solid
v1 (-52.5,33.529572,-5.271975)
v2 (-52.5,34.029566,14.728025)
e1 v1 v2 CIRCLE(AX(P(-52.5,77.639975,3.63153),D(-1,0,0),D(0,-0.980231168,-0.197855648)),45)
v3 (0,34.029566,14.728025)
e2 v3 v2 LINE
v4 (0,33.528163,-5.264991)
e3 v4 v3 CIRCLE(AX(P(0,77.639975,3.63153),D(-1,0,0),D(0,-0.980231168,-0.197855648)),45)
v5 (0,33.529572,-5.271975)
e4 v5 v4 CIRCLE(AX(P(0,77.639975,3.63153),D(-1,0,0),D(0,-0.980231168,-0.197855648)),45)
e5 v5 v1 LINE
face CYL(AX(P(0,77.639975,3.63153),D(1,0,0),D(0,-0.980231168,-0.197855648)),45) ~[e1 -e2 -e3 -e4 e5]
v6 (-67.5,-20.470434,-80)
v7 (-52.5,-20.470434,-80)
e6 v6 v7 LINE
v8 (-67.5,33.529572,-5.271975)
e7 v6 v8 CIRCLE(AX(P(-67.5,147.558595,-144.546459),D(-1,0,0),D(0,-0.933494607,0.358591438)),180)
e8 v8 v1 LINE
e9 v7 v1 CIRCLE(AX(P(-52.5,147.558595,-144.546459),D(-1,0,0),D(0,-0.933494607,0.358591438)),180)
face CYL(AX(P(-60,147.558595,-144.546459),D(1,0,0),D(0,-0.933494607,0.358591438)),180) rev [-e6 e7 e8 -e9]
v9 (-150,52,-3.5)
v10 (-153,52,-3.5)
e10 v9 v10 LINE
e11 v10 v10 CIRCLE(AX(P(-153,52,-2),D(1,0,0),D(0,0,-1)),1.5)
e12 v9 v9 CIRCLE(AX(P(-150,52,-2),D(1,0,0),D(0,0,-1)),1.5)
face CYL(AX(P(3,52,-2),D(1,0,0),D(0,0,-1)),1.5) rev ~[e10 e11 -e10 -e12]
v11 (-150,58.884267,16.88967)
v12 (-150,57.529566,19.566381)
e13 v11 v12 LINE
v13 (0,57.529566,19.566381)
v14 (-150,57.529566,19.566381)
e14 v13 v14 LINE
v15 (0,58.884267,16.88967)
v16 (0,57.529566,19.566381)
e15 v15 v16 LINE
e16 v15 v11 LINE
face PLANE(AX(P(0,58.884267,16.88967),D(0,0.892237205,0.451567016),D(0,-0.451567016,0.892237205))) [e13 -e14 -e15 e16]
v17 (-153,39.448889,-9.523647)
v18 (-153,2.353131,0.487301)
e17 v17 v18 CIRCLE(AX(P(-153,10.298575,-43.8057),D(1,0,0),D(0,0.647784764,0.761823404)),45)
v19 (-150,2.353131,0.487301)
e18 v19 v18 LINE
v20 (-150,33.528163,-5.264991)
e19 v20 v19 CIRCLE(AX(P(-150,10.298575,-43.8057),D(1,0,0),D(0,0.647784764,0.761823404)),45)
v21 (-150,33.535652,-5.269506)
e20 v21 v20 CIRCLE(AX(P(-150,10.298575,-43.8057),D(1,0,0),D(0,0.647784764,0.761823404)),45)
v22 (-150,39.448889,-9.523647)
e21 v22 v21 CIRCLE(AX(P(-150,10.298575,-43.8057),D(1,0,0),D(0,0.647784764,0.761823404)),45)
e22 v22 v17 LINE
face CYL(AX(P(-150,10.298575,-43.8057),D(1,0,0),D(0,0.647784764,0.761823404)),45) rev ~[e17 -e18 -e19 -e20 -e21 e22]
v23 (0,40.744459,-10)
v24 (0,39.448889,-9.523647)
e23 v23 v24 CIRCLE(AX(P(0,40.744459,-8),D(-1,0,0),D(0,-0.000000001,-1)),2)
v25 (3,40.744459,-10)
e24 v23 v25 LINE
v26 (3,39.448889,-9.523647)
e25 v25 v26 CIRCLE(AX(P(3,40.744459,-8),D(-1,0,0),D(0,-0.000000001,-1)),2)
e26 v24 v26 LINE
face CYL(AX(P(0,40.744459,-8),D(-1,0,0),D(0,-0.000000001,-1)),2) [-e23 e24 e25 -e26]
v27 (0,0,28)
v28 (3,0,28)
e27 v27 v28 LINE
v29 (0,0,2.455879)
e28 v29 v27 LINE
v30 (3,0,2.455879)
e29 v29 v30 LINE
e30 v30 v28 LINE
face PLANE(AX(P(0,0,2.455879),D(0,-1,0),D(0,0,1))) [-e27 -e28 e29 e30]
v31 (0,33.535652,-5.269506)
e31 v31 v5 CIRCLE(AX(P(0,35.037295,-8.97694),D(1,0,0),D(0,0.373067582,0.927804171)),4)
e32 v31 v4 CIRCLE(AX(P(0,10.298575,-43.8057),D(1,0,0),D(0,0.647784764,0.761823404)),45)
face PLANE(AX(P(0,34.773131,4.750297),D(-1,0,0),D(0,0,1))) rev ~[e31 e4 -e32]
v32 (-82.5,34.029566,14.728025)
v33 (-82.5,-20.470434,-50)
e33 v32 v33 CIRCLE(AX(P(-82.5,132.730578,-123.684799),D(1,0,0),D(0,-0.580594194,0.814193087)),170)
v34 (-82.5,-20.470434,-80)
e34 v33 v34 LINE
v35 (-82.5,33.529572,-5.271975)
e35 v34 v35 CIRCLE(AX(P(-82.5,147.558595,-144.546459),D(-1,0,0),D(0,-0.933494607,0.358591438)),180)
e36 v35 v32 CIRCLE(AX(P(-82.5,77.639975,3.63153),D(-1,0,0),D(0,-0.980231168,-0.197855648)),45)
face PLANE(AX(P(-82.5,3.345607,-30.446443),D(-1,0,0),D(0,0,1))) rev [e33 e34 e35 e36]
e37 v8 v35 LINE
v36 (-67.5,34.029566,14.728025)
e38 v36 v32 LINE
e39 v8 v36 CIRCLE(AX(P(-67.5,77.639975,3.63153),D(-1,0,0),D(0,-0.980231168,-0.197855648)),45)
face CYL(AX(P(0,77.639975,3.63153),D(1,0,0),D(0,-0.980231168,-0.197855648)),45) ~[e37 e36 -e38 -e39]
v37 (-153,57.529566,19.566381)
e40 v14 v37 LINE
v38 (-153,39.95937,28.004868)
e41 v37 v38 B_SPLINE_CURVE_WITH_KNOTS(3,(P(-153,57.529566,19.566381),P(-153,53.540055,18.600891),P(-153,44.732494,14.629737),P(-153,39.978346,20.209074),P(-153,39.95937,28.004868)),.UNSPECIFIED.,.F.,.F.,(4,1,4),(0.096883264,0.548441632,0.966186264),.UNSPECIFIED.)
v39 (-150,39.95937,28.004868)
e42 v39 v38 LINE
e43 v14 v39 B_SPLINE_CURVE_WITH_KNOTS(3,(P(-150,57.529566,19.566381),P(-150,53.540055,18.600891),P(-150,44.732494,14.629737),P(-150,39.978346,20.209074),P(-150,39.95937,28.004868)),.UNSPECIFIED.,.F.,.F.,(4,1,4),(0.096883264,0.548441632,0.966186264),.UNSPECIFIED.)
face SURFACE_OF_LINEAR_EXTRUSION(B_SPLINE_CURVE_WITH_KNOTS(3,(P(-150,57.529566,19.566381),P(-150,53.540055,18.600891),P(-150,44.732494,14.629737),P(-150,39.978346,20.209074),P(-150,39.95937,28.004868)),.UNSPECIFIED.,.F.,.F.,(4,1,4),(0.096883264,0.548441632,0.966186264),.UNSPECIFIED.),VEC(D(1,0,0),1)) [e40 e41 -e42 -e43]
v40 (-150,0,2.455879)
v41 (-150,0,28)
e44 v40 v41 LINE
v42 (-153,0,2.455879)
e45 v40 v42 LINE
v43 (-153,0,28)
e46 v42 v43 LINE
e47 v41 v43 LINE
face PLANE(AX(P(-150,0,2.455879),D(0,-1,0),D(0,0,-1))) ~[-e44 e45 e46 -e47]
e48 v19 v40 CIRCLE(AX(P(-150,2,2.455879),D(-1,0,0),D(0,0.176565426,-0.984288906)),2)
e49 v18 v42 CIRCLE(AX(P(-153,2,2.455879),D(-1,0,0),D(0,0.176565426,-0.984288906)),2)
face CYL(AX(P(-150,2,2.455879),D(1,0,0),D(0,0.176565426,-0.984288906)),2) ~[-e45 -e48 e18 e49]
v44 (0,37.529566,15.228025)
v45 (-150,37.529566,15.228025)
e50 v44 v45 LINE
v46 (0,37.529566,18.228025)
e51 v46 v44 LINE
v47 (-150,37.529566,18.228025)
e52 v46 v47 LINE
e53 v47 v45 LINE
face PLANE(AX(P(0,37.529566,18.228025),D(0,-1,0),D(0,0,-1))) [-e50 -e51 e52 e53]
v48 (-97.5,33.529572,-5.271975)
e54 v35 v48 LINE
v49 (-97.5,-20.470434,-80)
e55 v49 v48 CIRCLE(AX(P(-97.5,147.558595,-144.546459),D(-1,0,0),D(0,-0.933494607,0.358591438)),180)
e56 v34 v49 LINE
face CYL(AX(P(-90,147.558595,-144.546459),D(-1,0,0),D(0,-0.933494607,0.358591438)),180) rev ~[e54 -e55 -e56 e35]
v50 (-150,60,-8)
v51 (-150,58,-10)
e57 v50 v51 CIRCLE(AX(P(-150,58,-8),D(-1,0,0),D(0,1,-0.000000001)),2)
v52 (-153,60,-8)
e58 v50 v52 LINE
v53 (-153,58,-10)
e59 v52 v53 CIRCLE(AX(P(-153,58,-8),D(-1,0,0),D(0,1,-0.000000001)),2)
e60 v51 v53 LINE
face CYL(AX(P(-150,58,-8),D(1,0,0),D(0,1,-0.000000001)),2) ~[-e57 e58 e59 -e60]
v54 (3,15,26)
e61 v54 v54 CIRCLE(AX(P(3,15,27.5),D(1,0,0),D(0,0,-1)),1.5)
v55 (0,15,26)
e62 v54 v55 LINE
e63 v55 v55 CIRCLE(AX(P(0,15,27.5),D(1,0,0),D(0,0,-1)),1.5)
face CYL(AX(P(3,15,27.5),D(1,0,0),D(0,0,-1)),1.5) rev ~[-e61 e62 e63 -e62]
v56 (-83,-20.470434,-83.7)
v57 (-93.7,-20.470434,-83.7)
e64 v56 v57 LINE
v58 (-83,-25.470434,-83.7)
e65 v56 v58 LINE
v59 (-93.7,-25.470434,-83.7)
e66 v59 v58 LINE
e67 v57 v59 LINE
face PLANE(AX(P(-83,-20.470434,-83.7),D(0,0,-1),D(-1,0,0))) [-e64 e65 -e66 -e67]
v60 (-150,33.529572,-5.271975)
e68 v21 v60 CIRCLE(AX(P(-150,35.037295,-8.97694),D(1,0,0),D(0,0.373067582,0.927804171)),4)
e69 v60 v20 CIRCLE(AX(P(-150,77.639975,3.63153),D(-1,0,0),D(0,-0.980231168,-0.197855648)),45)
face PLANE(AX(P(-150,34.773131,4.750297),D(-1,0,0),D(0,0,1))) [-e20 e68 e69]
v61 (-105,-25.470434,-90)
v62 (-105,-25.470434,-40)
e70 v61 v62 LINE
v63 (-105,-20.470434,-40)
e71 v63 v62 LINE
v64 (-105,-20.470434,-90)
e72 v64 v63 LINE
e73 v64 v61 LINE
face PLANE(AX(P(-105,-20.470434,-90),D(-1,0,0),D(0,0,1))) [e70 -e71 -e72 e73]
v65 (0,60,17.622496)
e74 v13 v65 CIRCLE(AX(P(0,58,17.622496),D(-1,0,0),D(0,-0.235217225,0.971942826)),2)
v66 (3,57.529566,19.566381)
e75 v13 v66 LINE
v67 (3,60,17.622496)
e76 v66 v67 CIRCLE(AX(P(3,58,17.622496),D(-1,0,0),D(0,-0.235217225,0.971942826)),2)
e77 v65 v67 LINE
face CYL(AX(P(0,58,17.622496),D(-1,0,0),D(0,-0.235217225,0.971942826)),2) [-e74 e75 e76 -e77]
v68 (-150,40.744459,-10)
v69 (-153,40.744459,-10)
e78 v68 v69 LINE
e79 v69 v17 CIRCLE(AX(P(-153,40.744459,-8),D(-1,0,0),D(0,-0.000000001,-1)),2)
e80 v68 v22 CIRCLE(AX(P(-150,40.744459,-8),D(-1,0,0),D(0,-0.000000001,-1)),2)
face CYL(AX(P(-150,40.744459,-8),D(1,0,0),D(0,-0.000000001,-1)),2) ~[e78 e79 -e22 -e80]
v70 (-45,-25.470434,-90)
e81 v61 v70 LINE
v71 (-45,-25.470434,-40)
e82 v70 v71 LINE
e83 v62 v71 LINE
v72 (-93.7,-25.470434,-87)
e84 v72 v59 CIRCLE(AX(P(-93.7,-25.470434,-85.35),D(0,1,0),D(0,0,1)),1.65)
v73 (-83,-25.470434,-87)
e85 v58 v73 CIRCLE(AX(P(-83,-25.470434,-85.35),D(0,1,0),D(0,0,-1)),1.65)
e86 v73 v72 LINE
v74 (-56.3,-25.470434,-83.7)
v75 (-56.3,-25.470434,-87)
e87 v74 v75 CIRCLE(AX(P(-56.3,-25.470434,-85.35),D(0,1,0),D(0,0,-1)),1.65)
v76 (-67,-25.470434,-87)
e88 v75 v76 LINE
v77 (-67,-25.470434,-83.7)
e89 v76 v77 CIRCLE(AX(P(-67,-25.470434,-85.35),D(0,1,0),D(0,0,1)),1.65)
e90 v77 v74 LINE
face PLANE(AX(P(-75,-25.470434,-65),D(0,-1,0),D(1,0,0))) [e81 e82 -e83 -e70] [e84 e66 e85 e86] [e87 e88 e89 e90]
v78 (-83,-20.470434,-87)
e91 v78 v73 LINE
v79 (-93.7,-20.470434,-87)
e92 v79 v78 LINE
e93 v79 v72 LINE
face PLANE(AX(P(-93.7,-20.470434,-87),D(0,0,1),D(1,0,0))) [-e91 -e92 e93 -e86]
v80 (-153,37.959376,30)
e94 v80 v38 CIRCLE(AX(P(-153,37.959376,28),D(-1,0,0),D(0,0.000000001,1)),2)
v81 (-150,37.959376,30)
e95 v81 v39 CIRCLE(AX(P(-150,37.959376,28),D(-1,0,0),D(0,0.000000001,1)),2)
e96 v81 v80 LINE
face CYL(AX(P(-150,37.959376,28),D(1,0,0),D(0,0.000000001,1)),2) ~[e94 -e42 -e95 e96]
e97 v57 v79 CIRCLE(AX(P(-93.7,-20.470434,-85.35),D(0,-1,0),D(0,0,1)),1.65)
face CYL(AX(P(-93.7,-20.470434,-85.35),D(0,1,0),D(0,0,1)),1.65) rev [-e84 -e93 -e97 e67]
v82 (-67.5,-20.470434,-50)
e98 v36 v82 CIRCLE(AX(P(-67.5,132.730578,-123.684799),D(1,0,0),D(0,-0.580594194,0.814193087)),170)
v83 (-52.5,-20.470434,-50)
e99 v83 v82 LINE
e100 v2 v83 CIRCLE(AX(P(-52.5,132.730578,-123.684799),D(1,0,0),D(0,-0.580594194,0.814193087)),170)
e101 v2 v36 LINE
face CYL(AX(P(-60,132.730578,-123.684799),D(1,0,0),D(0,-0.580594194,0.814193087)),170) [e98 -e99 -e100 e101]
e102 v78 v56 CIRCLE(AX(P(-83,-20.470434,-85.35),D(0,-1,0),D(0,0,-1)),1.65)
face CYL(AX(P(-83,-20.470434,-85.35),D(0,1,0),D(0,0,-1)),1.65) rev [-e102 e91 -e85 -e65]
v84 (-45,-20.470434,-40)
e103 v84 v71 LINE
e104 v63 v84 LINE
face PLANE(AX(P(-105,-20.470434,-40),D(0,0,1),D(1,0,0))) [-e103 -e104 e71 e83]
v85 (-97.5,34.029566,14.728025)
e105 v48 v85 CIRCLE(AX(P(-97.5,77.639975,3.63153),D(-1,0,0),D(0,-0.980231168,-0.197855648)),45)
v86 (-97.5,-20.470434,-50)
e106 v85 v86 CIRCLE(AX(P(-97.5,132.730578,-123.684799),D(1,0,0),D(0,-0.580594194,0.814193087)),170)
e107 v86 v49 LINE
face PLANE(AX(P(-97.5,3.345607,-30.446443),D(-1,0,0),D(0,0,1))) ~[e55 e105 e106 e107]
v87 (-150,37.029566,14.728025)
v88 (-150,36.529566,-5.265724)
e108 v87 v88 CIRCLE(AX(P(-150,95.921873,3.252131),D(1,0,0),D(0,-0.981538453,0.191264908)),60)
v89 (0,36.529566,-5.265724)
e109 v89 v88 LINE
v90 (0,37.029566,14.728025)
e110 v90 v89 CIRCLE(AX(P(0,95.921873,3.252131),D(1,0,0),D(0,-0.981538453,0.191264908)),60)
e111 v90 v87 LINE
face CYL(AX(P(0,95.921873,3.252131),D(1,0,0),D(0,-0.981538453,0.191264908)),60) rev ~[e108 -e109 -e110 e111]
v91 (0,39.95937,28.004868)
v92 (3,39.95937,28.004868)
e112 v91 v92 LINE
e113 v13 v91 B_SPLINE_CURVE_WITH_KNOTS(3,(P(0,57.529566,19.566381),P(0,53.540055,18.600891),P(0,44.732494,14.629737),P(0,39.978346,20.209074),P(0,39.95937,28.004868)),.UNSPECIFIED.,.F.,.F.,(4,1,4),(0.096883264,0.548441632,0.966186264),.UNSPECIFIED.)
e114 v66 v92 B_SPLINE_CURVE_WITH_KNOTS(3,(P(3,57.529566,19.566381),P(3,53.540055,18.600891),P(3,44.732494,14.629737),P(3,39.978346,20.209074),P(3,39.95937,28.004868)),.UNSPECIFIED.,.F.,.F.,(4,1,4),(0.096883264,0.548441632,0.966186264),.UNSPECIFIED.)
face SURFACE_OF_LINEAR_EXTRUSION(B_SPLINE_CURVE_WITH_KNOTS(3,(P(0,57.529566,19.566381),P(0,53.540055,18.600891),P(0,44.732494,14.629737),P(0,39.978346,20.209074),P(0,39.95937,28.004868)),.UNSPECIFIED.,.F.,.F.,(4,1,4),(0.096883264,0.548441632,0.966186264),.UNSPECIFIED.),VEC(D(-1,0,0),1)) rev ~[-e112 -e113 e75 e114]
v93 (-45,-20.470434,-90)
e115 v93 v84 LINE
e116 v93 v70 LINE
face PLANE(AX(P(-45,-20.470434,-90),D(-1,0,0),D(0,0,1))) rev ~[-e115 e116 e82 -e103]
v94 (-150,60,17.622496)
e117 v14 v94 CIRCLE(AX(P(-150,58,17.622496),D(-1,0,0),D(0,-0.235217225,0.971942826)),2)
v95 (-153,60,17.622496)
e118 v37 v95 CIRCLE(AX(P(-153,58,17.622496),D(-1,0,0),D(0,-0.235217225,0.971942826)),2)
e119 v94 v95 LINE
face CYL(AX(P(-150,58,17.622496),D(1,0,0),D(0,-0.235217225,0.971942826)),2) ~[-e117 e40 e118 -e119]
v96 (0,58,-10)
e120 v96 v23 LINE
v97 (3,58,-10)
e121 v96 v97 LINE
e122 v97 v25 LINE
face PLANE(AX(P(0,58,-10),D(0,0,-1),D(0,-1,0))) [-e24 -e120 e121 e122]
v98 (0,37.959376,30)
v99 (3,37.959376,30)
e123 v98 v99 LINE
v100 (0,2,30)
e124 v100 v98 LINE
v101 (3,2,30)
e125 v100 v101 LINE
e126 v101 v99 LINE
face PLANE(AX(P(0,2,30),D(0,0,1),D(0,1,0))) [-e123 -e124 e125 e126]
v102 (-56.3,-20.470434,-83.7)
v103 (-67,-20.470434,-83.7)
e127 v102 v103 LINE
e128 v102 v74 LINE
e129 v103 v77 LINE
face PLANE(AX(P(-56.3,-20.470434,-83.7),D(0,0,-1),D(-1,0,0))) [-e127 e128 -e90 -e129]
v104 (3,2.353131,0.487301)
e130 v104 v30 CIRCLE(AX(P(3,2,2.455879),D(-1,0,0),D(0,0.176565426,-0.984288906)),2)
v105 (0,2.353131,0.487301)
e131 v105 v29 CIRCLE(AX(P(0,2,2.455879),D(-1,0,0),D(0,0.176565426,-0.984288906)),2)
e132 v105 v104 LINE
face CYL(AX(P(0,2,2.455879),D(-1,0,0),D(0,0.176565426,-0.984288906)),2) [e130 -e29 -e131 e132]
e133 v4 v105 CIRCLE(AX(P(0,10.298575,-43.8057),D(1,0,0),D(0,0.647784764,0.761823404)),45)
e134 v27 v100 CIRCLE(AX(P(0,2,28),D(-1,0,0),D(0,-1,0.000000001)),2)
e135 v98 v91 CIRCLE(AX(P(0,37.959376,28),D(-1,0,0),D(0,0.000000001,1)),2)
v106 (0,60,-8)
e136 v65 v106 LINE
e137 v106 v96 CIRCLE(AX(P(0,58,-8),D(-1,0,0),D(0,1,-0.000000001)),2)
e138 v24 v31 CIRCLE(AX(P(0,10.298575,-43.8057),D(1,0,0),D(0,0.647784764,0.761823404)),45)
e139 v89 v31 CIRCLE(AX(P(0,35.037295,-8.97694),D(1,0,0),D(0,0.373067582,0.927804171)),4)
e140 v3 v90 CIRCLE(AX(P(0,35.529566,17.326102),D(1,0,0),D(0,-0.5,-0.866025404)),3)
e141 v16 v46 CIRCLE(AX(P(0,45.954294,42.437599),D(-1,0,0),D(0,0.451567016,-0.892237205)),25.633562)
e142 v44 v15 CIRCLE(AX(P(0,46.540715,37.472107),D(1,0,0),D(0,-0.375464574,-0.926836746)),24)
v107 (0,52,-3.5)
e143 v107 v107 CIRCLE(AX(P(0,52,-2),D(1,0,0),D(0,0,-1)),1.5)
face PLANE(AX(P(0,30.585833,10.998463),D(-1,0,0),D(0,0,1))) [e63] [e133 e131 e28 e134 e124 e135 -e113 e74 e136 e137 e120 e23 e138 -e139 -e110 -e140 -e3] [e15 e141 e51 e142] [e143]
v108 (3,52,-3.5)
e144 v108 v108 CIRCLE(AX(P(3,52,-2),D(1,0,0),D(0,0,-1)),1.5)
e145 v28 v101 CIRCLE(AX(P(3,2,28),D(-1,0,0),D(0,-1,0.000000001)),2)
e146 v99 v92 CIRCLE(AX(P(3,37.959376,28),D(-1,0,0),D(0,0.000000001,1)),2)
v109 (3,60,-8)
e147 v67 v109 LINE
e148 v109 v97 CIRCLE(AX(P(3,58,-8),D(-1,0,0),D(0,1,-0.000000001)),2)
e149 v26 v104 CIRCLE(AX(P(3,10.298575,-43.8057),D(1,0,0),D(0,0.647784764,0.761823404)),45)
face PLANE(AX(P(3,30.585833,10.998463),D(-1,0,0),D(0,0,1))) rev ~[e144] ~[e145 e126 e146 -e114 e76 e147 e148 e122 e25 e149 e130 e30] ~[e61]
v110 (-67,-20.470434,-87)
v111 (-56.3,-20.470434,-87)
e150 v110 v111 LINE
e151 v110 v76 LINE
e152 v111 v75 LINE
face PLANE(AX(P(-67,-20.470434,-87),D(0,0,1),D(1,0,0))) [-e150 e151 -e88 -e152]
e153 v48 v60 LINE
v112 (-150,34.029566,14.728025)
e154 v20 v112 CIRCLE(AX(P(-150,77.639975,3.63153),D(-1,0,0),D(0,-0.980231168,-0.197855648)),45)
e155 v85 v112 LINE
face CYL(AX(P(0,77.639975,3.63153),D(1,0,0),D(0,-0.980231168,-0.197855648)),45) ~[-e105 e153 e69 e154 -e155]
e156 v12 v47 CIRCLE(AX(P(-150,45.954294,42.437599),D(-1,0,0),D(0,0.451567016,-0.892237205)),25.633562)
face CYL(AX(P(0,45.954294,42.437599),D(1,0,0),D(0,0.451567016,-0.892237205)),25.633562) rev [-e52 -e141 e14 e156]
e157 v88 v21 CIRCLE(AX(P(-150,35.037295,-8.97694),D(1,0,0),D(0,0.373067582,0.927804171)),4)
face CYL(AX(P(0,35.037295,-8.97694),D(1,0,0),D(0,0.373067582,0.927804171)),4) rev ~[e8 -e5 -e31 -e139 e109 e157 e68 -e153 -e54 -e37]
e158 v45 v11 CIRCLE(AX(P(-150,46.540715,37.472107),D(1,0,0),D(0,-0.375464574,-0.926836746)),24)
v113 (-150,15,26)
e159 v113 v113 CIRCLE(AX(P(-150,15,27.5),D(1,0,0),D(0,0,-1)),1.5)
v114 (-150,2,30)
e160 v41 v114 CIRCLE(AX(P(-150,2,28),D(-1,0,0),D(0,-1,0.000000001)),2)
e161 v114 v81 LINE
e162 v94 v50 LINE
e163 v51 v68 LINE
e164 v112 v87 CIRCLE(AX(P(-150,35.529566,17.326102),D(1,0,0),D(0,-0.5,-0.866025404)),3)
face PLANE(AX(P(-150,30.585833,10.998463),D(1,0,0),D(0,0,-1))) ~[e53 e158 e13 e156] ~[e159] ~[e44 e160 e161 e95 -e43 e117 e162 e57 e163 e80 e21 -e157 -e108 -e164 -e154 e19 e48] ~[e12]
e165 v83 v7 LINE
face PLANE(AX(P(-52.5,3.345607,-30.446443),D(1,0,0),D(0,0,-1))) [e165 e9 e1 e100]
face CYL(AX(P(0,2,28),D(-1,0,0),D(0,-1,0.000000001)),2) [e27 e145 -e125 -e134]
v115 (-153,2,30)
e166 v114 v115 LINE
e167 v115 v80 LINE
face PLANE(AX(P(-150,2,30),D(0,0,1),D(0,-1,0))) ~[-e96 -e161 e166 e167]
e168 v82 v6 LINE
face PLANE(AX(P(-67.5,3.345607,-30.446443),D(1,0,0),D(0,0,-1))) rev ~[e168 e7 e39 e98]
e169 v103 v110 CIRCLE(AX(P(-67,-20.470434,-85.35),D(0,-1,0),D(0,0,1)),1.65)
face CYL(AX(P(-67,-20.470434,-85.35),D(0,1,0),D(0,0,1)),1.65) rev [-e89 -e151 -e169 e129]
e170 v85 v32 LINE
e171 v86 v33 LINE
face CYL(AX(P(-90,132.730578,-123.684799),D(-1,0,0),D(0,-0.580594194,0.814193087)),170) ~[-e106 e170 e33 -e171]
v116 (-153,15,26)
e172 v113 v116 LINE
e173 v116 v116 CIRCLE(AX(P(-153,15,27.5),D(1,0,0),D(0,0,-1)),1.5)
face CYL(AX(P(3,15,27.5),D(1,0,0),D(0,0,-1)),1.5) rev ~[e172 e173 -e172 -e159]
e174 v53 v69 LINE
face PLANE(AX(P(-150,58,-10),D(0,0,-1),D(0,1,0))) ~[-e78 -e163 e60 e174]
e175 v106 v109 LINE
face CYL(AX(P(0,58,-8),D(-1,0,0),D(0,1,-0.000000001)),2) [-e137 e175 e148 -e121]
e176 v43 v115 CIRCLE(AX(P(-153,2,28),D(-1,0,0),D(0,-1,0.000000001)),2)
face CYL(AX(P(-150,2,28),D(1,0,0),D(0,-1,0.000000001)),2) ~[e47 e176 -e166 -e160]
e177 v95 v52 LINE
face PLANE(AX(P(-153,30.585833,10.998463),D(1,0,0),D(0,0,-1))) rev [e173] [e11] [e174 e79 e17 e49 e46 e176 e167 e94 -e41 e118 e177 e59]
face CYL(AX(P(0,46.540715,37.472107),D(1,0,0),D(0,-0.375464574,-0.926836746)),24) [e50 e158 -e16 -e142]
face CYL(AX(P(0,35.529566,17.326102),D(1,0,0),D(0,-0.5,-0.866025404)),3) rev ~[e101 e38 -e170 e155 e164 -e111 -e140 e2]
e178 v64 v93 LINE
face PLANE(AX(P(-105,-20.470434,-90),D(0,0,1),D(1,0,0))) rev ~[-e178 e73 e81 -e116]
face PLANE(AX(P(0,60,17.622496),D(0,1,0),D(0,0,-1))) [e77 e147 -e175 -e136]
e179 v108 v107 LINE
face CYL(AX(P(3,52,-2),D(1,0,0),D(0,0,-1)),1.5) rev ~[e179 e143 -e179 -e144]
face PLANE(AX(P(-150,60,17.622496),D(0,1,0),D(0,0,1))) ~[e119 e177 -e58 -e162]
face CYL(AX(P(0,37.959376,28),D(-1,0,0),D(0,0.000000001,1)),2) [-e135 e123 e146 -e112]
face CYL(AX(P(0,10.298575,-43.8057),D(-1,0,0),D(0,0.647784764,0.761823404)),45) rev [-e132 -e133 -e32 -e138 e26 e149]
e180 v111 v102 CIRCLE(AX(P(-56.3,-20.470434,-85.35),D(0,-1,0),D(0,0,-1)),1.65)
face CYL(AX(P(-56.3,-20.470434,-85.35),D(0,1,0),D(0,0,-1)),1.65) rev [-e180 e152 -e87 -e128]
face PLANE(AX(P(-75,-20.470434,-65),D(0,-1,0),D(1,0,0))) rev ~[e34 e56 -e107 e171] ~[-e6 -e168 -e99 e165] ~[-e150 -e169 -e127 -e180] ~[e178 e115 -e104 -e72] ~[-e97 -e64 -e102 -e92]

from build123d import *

# Parameters (mm, degrees)
BOSS_EXTRUDE3_DEPTH  = 3
BOSS_EXTRUDE4_DEPTH  = 150
BOSS_EXTRUDE7_DEPTH  = 150
BOSS_EXTRUDE11_DEPTH = 7.5
SKETCH10_W           = 60
SKETCH10_H           = 50
BOSS_EXTRUDE12_DEPTH = 5
CUT_EXTRUDE1_DEPTH   = 195.89610275
SKETCH12_R           = 1.5
CUT_EXTRUDE2_DEPTH   = 190.831504348


with BuildPart() as part:
    # Sketch2 → Boss-Extrude3 (new body)
    with BuildSketch(Plane(origin=(0, 0, 0), x_dir=(0, 0, -1), z_dir=(1, 0, 0))):
        with BuildLine():
            Line((-2.455878577, 0), (-28, 0))
            ThreePointArc((-28, 0), (-29.414213562, 0.585786438), (-30, 2))
            Line((-30, 2), (-30, 37.959376251))
            ThreePointArc((-30, 37.959376251), (-29.415933658, 39.371867622), (-28.004868125, 39.959370326))
            add(Edge.make_bspline(
                [(-19.566381264, 57.529565551), (-18.600890686, 53.540054818), (-14.629736922, 44.732493893), (-20.209073936, 39.978345831), (-28.004868125, 39.959370326)],
                knots=[0.096883264, 0.096883264, 0.096883264, 0.096883264, 0.548441632, 0.966186264, 0.966186264, 0.966186264, 0.966186264], degree=3))
            ThreePointArc((-19.566381264, 57.529565551), (-19.194257187, 59.23675606), (-17.622495612, 60))
            Line((-17.622495612, 60), (8, 60))
            ThreePointArc((8, 60), (9.414213562, 59.414213562), (10, 58))
            Line((10, 58), (10, 40.744458909))
            ThreePointArc((10, 40.744458909), (9.87713793, 40.054275462), (9.523646809, 39.448889381))
            ThreePointArc((9.523646809, 39.448889381), (0.359945302, 22.023181527), (-0.487300765, 2.353130851))
            ThreePointArc((-0.487300765, 2.353130851), (-0.921886774, 0.716696003), (-2.455878577, 0))
        make_face()
    boss_extrude3 = extrude(amount=BOSS_EXTRUDE3_DEPTH)

    # Sketch3 → Boss-Extrude4 (add)
    with BuildSketch(Plane.ZY):
        with BuildLine():
            Line((18.228025457, 37.529565551), (15.228025457, 37.529565551))
            ThreePointArc((15.228025457, 37.529565551), (13.544434891, 48.402566635), (16.889669649, 58.8842666))
            Line((16.889669649, 58.8842666), (19.566381264, 57.529565551))
            ThreePointArc((19.566381264, 57.529565551), (16.861238321, 47.665807833), (18.228025457, 37.529565551))
        make_face()
    extrude(amount=BOSS_EXTRUDE4_DEPTH)

    # Sketch6 → Boss-Extrude7 (add)
    with BuildSketch(Plane.ZY):
        with BuildLine():
            ThreePointArc((14.728025457, 37.029565551), (4.752130999, 35.940625674), (-5.265723566, 36.529565551))
            ThreePointArc((-5.265723566, 36.529565551), (-4.976948932, 35.028960586), (-5.271974543, 33.529572064))
            ThreePointArc((-5.271974543, 33.529572064), (4.756163556, 32.65403017), (14.728025457, 34.029565551))
            ThreePointArc((14.728025457, 34.029565551), (14.326101668, 35.529565551), (14.728025457, 37.029565551))
        make_face()
    extrude(amount=BOSS_EXTRUDE7_DEPTH)

    # Mirror2: Boss-Extrude3 across plane
    add(boss_extrude3.mirror(Plane.ZY.offset(75)))

    # Sketch9 → Boss-Extrude11 (add, symmetric)
    with BuildSketch(Plane(origin=(-60, 0, 0), x_dir=(0, 0, -1), z_dir=(1, 0, 0))):
        with BuildLine():
            Line((50, -20.470434449), (80, -20.470434449))
            ThreePointArc((80, -20.470434449), (39.119970751, 1.663921764), (5.271974543, 33.529572064))
            ThreePointArc((5.271974543, 33.529572064), (-4.756163556, 32.65403017), (-14.728025457, 34.029565551))
            ThreePointArc((-14.728025457, 34.029565551), (14.190904343, 2.687943249), (50, -20.470434449))
        make_face()
    boss_extrude11 = extrude(amount=BOSS_EXTRUDE11_DEPTH, both=True)

    # Mirror3: Boss-Extrude11 across plane
    add(boss_extrude11.mirror(Plane.ZY.offset(75)))

    # Sketch10 → Boss-Extrude12 (add)
    with BuildSketch(Plane.XZ.offset(20.470434449)):
        with Locations((-75, -65)):
            Rectangle(SKETCH10_W, SKETCH10_H)
    extrude(amount=BOSS_EXTRUDE12_DEPTH)

    # Sketch11 → Cut-Extrude1 (cut, through all)
    with BuildSketch(Plane(origin=(0, -20.470434449, 0), x_dir=(1, 0, 0), z_dir=(0, 1, 0))):
        with BuildLine():
            Line((-93.7, 87), (-83, 87))
            ThreePointArc((-83, 87), (-81.35, 85.35), (-83, 83.7))
            Line((-83, 83.7), (-93.7, 83.7))
            ThreePointArc((-93.7, 83.7), (-95.35, 85.35), (-93.7, 87))
        make_face()
        with BuildLine():
            Line((-67, 87), (-56.3, 87))
            ThreePointArc((-56.3, 87), (-54.65, 85.35), (-56.3, 83.7))
            Line((-56.3, 83.7), (-67, 83.7))
            ThreePointArc((-67, 83.7), (-68.65, 85.35), (-67, 87))
        make_face()
    extrude(amount=-CUT_EXTRUDE1_DEPTH, mode=Mode.SUBTRACT)

    # Sketch12 → Cut-Extrude2 (cut, through all)
    with BuildSketch(Plane(origin=(3, 0, 0), x_dir=(0, 0, -1), z_dir=(1, 0, 0))):
        with Locations((2, 52)):
            Circle(SKETCH12_R)
        with Locations((-27.5, 15)):
            Circle(SKETCH12_R)
    extrude(amount=-CUT_EXTRUDE2_DEPTH, mode=Mode.SUBTRACT)


solid = part.part
